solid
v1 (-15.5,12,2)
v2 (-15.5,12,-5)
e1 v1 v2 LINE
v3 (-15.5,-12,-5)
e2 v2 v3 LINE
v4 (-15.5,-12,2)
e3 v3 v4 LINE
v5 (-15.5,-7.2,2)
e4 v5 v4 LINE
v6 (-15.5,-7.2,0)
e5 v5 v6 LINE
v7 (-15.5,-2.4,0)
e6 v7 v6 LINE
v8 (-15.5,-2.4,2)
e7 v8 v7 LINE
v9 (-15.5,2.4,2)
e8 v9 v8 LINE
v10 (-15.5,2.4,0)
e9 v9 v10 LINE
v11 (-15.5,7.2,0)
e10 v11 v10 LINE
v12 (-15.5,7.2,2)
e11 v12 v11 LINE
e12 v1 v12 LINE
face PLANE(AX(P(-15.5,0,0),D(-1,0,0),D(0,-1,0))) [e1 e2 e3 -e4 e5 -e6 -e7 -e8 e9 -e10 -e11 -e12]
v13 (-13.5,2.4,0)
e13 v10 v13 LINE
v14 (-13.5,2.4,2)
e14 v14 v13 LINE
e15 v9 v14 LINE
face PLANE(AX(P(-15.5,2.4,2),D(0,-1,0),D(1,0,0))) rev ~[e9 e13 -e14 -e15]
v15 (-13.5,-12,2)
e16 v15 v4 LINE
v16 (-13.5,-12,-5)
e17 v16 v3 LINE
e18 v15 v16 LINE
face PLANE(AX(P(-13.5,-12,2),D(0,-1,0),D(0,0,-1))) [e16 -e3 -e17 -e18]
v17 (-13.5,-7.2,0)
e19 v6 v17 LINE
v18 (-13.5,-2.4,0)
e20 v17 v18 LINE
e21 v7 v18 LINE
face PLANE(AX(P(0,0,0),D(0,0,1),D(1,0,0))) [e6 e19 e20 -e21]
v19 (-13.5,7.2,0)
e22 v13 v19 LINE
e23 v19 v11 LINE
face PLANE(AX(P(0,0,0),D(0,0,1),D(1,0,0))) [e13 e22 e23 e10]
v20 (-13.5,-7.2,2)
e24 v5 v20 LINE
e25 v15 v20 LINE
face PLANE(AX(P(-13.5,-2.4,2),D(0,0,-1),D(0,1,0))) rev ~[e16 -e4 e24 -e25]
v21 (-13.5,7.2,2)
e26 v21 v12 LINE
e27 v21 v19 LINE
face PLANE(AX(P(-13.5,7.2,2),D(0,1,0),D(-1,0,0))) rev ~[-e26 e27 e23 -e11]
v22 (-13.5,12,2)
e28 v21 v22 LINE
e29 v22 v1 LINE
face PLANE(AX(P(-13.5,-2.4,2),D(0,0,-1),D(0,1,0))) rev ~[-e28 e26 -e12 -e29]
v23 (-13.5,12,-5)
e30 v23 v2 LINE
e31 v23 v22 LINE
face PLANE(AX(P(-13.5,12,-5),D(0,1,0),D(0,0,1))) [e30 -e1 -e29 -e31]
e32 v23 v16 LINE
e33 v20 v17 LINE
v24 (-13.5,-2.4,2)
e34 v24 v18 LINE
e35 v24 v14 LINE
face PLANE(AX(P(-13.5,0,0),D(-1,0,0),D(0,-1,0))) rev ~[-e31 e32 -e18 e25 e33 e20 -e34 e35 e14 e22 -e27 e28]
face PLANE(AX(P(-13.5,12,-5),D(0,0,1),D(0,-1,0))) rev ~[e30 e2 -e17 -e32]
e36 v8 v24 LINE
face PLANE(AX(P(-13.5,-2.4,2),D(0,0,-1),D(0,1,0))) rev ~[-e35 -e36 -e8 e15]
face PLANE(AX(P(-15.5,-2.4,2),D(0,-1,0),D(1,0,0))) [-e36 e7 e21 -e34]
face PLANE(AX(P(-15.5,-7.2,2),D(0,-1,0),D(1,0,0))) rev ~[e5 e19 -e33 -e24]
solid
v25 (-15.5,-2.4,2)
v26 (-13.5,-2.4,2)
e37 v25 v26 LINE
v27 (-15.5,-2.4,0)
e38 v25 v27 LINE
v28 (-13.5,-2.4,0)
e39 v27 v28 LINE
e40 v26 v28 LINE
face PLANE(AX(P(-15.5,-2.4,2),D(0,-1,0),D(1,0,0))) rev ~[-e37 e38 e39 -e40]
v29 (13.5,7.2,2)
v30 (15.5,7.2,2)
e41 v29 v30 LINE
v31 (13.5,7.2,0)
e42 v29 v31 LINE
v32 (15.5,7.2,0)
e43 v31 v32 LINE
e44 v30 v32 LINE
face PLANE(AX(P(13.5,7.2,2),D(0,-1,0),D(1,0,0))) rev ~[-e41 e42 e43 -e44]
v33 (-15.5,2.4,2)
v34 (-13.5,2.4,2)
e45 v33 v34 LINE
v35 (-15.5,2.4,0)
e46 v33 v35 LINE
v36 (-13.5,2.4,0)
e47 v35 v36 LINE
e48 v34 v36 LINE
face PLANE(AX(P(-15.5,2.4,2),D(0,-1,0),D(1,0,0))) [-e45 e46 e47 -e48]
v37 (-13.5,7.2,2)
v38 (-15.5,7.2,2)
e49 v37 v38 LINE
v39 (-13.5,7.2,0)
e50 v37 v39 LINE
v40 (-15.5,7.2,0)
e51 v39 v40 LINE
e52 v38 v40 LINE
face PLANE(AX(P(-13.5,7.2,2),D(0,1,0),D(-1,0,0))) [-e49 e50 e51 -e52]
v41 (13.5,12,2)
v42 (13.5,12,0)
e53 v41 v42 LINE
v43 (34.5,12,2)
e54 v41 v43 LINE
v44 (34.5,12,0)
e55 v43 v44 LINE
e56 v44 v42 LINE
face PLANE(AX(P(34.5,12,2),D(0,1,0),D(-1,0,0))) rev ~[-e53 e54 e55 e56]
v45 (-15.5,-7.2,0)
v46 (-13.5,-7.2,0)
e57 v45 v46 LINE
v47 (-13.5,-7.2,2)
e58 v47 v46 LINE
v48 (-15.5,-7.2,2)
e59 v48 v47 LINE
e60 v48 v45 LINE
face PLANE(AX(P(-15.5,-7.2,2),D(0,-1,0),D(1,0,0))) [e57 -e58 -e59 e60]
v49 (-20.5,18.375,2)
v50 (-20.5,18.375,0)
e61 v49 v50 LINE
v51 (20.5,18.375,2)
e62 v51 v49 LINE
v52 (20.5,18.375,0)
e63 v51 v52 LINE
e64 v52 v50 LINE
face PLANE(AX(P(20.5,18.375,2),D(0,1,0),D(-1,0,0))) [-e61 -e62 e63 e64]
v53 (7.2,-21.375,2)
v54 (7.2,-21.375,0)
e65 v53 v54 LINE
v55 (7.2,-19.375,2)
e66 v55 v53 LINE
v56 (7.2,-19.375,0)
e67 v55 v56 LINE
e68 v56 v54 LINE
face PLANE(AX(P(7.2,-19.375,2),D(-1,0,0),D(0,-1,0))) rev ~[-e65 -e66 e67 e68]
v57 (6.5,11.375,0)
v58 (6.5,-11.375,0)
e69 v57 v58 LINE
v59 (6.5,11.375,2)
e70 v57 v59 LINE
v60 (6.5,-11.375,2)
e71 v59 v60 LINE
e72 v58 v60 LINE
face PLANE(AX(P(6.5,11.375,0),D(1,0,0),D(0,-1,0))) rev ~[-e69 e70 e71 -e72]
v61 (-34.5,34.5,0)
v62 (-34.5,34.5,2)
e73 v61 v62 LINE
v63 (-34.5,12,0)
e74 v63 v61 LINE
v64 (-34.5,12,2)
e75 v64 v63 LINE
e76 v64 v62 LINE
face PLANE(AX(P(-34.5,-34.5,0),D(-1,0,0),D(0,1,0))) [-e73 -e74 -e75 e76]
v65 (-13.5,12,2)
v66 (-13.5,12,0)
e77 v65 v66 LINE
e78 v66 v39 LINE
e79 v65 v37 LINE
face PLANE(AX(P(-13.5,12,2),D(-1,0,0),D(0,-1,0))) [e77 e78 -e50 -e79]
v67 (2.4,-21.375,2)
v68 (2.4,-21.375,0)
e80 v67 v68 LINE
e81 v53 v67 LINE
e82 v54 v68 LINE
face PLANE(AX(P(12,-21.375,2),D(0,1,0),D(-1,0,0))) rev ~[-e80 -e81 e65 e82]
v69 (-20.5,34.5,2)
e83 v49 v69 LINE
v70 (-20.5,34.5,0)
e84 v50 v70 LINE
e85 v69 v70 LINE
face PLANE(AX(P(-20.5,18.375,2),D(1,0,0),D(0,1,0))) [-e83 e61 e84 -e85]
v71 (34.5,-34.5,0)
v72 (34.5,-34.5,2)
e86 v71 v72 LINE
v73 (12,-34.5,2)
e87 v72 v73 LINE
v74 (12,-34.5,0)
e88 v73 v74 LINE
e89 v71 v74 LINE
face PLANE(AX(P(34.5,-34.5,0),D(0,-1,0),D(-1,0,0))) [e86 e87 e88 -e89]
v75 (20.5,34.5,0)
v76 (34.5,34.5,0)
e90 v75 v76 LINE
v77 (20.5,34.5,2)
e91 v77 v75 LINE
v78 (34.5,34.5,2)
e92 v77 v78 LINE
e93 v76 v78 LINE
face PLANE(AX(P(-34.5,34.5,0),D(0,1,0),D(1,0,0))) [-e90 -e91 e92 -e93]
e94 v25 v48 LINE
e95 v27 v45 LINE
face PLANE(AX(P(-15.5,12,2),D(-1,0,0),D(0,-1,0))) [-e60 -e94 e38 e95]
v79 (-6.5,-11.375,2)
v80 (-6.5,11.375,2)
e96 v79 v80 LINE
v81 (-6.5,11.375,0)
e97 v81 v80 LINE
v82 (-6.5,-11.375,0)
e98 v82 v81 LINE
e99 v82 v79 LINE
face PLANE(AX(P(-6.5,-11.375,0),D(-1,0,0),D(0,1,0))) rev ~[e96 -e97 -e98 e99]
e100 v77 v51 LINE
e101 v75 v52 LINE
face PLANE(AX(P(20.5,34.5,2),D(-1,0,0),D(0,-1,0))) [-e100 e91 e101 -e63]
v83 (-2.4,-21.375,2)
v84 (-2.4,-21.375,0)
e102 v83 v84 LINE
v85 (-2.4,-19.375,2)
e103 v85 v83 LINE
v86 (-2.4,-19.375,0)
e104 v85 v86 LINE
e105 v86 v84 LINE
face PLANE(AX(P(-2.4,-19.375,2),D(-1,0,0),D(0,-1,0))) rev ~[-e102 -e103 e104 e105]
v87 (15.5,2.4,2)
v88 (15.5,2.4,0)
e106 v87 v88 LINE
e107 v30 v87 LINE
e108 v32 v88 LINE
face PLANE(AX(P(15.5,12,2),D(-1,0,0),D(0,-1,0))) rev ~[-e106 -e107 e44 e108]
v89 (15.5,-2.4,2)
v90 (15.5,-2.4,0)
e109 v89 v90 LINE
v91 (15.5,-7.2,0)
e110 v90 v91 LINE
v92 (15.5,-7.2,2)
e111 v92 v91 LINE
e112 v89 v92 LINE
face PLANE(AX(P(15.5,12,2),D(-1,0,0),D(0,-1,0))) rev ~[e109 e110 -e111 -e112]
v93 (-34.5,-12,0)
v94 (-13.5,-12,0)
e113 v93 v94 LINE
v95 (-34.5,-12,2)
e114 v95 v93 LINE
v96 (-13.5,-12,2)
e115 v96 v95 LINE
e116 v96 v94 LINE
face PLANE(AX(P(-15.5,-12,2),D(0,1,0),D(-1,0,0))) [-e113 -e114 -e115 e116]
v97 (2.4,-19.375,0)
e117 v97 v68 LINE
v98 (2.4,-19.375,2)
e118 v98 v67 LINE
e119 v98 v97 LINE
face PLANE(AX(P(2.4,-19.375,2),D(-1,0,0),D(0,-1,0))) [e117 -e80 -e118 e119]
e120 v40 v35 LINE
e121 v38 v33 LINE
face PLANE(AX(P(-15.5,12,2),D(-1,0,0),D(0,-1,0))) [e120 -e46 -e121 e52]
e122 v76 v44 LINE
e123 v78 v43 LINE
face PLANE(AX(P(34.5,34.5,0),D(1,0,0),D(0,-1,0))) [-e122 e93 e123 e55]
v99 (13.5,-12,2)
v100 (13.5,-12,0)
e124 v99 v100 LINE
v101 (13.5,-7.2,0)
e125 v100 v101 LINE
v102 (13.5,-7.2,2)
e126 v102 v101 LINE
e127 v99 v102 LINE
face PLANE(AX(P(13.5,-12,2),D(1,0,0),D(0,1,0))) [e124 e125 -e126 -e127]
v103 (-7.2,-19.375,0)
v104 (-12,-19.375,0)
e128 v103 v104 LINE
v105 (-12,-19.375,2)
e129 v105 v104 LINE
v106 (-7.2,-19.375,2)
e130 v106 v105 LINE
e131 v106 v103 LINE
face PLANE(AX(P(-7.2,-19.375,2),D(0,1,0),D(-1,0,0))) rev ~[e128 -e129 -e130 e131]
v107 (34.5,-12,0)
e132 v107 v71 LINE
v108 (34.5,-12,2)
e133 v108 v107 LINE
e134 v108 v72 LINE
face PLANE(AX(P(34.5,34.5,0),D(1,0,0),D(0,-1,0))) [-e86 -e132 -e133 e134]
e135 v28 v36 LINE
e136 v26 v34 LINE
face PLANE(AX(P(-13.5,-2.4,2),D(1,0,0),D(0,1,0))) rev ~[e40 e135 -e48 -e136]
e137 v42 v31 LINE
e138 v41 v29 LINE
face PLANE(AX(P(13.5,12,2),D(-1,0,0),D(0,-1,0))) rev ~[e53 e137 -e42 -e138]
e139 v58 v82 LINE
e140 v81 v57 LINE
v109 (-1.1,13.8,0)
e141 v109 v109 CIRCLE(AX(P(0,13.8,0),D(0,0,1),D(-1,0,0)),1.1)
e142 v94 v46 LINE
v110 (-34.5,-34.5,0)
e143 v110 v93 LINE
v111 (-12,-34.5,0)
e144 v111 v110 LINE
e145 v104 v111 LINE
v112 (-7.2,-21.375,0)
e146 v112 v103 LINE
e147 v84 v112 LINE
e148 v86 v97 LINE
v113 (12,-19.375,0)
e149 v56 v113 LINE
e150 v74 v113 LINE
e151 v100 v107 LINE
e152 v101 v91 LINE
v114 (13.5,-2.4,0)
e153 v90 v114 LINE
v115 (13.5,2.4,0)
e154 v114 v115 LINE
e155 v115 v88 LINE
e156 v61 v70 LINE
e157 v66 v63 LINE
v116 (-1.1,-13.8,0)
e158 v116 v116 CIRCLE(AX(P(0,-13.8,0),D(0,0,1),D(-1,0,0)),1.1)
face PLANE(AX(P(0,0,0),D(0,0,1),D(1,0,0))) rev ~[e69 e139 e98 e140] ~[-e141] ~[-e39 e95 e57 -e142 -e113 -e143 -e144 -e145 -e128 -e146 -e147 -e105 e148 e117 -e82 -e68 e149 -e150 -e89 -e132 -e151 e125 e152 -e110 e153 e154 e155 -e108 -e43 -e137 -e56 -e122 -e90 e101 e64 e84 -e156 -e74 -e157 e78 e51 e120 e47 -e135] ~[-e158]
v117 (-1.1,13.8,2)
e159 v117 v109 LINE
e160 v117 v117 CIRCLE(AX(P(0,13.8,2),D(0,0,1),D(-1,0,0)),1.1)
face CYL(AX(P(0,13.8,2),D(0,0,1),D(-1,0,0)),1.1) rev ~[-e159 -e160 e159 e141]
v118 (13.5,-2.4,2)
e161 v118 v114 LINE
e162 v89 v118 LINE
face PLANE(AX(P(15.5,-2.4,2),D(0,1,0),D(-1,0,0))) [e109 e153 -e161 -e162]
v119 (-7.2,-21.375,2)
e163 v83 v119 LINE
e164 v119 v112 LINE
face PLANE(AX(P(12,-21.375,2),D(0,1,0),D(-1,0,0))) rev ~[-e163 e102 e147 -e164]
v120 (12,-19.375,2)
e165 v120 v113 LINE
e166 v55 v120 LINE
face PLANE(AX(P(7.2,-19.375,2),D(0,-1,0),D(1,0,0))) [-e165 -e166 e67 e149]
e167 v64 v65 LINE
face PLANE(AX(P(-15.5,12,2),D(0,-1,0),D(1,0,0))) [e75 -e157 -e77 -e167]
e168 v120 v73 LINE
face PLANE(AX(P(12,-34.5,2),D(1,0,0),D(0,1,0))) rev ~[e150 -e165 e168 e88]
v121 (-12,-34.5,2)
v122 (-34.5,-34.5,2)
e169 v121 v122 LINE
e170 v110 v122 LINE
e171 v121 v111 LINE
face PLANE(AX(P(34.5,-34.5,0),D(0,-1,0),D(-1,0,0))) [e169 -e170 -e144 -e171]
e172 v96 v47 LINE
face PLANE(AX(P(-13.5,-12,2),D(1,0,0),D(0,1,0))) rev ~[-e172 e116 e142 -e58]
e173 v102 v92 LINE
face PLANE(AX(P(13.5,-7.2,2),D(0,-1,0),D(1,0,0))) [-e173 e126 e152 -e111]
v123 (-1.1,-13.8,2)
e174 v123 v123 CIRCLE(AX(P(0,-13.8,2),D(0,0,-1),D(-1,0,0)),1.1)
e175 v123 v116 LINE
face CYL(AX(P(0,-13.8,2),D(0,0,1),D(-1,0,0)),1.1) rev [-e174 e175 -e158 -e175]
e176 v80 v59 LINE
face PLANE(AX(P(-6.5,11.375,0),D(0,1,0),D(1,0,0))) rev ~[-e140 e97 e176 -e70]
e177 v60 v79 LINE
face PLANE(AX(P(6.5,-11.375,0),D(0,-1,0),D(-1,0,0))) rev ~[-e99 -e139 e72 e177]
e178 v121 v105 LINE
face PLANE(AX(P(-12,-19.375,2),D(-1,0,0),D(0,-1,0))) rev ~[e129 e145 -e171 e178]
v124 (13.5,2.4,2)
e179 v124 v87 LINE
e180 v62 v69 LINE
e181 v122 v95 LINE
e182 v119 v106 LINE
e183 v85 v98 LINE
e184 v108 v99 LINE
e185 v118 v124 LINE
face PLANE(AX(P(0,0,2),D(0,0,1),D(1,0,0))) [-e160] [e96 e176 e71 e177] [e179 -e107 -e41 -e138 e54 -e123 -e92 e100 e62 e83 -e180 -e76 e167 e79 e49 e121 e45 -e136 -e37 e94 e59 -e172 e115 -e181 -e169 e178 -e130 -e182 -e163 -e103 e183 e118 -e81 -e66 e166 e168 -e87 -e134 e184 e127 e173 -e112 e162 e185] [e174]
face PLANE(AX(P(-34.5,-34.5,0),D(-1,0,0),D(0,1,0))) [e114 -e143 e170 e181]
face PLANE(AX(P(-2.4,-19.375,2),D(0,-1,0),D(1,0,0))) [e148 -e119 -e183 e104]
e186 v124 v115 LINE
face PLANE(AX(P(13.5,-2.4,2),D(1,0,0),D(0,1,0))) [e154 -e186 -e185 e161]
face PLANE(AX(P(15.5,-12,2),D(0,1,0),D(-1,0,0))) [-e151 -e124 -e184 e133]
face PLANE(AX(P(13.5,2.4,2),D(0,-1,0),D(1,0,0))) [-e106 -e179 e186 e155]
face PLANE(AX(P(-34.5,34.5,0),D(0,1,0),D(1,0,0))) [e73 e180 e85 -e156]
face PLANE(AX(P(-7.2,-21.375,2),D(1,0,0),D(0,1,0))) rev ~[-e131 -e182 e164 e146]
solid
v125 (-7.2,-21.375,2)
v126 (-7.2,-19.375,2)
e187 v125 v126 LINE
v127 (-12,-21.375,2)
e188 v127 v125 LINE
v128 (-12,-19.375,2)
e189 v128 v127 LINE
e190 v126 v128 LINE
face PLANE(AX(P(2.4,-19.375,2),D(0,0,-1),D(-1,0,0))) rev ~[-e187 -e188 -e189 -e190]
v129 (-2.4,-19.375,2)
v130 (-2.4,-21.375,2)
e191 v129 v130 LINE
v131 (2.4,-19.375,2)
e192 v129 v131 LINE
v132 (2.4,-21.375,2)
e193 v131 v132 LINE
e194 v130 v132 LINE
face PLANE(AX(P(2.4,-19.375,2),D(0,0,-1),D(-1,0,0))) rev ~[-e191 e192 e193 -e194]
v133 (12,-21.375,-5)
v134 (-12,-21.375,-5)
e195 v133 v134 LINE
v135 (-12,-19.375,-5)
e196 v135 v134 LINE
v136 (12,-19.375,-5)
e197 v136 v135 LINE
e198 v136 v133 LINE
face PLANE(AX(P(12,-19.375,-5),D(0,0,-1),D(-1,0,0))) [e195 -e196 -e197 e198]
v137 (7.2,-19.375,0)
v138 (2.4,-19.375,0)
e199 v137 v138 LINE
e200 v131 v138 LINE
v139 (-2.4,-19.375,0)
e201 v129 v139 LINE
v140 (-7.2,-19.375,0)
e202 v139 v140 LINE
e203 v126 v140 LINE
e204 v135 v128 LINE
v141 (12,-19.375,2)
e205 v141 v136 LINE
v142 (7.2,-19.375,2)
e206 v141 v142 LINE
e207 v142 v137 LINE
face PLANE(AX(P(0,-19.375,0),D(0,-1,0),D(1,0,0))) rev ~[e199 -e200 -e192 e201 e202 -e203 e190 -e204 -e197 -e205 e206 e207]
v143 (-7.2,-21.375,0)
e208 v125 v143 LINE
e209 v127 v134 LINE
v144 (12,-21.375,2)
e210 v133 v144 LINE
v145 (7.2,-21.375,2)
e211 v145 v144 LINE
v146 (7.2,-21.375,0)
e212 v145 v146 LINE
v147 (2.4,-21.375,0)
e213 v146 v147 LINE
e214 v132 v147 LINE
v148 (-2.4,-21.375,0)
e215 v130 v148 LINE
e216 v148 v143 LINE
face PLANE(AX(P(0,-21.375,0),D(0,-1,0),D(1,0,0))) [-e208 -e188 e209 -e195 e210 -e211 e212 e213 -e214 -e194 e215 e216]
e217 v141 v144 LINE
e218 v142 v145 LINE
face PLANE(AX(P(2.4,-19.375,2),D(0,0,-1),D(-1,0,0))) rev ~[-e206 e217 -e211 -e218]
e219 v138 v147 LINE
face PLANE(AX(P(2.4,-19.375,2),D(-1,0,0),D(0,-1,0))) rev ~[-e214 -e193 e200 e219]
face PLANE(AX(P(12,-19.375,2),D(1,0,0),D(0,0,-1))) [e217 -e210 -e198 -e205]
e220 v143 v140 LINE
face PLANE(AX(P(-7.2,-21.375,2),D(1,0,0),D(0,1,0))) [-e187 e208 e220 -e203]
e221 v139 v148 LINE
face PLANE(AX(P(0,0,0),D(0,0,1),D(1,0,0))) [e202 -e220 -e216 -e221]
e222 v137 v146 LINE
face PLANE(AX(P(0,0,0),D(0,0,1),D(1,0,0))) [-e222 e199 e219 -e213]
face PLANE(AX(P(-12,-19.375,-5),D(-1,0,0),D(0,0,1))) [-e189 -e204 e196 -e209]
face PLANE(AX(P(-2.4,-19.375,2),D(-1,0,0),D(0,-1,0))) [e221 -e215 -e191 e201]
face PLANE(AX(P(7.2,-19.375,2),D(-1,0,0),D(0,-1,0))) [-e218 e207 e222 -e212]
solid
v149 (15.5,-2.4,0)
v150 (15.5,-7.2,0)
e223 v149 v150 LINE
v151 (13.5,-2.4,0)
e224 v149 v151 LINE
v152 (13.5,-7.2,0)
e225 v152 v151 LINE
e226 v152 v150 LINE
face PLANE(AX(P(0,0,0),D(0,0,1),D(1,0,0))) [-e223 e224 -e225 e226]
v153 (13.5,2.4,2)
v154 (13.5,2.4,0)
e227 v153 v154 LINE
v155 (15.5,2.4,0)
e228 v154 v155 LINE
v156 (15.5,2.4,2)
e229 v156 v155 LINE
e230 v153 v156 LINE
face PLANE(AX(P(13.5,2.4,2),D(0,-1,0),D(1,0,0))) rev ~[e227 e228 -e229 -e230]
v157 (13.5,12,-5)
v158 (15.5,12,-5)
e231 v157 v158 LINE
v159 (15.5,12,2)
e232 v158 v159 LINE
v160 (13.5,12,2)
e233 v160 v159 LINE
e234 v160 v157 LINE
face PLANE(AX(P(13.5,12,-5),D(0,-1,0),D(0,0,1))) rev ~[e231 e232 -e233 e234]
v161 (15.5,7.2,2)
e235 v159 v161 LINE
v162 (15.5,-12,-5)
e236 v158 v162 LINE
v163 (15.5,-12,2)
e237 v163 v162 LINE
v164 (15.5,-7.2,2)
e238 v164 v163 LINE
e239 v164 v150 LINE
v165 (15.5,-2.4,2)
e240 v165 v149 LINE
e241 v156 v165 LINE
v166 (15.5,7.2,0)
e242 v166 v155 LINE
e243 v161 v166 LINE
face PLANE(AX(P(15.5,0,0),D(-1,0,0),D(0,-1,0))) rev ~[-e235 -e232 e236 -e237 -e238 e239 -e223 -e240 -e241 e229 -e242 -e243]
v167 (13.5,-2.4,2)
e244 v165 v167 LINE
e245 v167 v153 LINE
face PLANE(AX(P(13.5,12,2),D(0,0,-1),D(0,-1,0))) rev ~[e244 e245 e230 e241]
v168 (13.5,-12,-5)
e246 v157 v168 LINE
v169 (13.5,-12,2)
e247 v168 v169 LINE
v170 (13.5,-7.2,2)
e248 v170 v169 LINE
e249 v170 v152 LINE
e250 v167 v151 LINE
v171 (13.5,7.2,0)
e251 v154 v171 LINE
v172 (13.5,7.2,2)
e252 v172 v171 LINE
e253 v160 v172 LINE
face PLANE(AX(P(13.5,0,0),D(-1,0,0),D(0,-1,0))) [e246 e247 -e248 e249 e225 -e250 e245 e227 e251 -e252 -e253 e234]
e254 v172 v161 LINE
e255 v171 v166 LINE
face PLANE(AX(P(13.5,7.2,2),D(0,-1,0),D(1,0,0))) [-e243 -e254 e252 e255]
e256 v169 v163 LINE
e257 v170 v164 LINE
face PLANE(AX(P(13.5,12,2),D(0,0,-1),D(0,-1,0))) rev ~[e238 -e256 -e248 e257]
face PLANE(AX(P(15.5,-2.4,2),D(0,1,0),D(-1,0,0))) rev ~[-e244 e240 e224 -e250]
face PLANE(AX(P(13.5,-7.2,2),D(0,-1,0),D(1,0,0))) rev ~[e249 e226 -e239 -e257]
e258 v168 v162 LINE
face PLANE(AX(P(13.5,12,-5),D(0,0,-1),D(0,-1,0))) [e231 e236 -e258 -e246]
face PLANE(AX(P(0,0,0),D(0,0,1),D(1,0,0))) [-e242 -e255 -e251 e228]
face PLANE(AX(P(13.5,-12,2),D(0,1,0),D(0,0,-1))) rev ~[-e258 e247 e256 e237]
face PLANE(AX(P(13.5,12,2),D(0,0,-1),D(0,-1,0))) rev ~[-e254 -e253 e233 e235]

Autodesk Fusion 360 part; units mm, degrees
sketch "Sketch1" plane through (0, 0, 0) normal (0, 0, 1) x (1, 0, 0) in component "main"
  line L0 (-34.5, 34.5) -> (34.5, 34.5)
  line L1 (34.5, 34.5) -> (34.5, -34.5)
  line L2 (34.5, -34.5) -> (-34.5, -34.5)
  line L3 (-34.5, -34.5) -> (-34.5, 34.5)
  line L4 (-34.5, 34.5) -> (34.5, -34.5) construction
  line L5 (34.5, 34.5) -> (-34.5, -34.5) construction
  line L6 (-6.5, 11.375) -> (6.5, 11.375)
  line L7 (6.5, 11.375) -> (6.5, -11.375)
  line L8 (6.5, -11.375) -> (-6.5, -11.375)
  line L9 (-6.5, -11.375) -> (-6.5, 11.375)
  line L10 (-6.5, 11.375) -> (6.5, -11.375) construction
  line L11 (6.5, 11.375) -> (-6.5, -11.375) construction
  dimension "d8" = 69
  dimension "d9" = 13
  dimension "d10" = 22.75
extrude "Extrude1" add sketch "Sketch1" along normal blind 2 makes body 1 in component "main"
sketch "Sketch2" plane through (0, 0, 2) normal (0, 0, 1) x (-1, 0, 0) in component "main"
  line L0 (-6.5, 11.375) -> (6.5, 11.375)
  line L1 (6.5, 11.375) -> (6.5, -11.375)
  line L2 (6.5, -11.375) -> (-6.5, -11.375)
  line L3 (-6.5, -11.375) -> (-6.5, 11.375)
  line L4 (34.5, 34.5) -> (-34.5, 34.5)
  line L5 (-34.5, 34.5) -> (-34.5, -34.5)
  line L6 (-34.5, -34.5) -> (34.5, -34.5)
  line L7 (34.5, -34.5) -> (34.5, 34.5)
  line L8 (-34.5, -12) -> (-15.5, -12)
  line L9 (-15.5, -12) -> (-15.5, 12)
  line L10 (-15.5, 12) -> (-34.5, 12)
  line L11 (-34.5, 12) -> (-34.5, -12)
  line L12 (34.5, -12) -> (15.5, -12)
  line L13 (15.5, -12) -> (15.5, 12)
  line L14 (15.5, 12) -> (34.5, 12)
  line L15 (34.5, 12) -> (34.5, -12)
  line L16 (12, 34.5) -> (-12, 34.5)
  line L17 (-12, 34.5) -> (-12, 21.375)
  line L18 (-12, 21.375) -> (12, 21.375)
  line L19 (12, 21.375) -> (12, 34.5)
  line L20 (20.5, -34.5) -> (-20.5, -34.5)
  line L21 (-20.5, -34.5) -> (-20.5, -18.375)
  line L22 (-20.5, -18.375) -> (20.5, -18.375)
  line L23 (20.5, -18.375) -> (20.5, -34.5)
  dimension "d13" = 24
  dimension "d17" = 10
  dimension "d18" = 9
  dimension "d19" = 14
  dimension "d20" = 7
extrude "Extrude2" cut sketch "Sketch2" against normal blind 5 contours L4 L16 L17 L18 L19 | L7 L12 L13 L14 L15 | L5 L8 L9 L10 L11 | L6 L20 L21 L22 L23 bodies 1 in component "main"
sketch "Sketch3" plane through (0, 0, 2) normal (0, 0, 1) x (-1, 0, 0) in component "main"
  line L0 (15.5, 12) -> (34.5, 12)
  line L1 (34.5, 12) -> (34.5, 34.5)
  line L2 (34.5, 34.5) -> (12, 34.5)
  line L3 (12, 34.5) -> (12, 21.375)
  line L4 (12, 21.375) -> (-12, 21.375)
  line L5 (-12, 21.375) -> (-12, 34.5)
  line L6 (-12, 34.5) -> (-34.5, 34.5)
  line L7 (-34.5, 34.5) -> (-34.5, 12)
  line L8 (-34.5, 12) -> (-15.5, 12)
  line L9 (-15.5, 12) -> (-15.5, -12)
  line L10 (-15.5, -12) -> (-34.5, -12)
  line L11 (-34.5, -12) -> (-34.5, -34.5)
  line L12 (-34.5, -34.5) -> (-20.5, -34.5)
  line L13 (-20.5, -34.5) -> (-20.5, -18.375)
  line L14 (-20.5, -18.375) -> (20.5, -18.375)
  line L15 (20.5, -18.375) -> (20.5, -34.5)
  line L16 (20.5, -34.5) -> (34.5, -34.5)
  line L17 (34.5, -34.5) -> (34.5, -12)
  line L18 (34.5, -12) -> (15.5, -12)
  line L19 (15.5, -12) -> (15.5, 12)
  line L20 (-6.5, 11.375) -> (6.5, 11.375)
  line L21 (6.5, 11.375) -> (6.5, -11.375)
  line L22 (6.5, -11.375) -> (-6.5, -11.375)
  line L23 (-6.5, -11.375) -> (-6.5, 11.375)
  line L24 (15.5, -12) -> (13.5, -12)
  line L25 (13.5, -12) -> (13.5, -7.2)
  line L26 (13.5, -7.2) -> (15.5, -7.2)
  line L27 (15.5, -7.2) -> (15.5, -12)
  line L28 (13.5, -7.2) -> (15.5, -7.2)
  line L29 (15.5, -7.2) -> (15.5, -2.4)
  line L30 (15.5, -2.4) -> (13.5, -2.4)
  line L31 (13.5, -2.4) -> (13.5, -7.2)
  line L32 (13.5, -2.4) -> (15.5, -2.4)
  line L33 (15.5, -2.4) -> (15.5, 2.4)
  line L34 (15.5, 2.4) -> (13.5, 2.4)
  line L35 (13.5, 2.4) -> (13.5, -2.4)
  line L36 (13.5, 2.4) -> (15.5, 2.4)
  line L37 (15.5, 2.4) -> (15.5, 7.2)
  line L38 (15.5, 7.2) -> (13.5, 7.2)
  line L39 (13.5, 7.2) -> (13.5, 2.4)
  line L40 (13.5, 7.2) -> (15.5, 7.2)
  line L41 (15.5, 7.2) -> (15.5, 12)
  line L42 (15.5, 12) -> (13.5, 12)
  line L43 (13.5, 12) -> (13.5, 7.2)
  line L44 (12, 21.375) -> (7.2, 21.375)
  line L45 (7.2, 21.375) -> (7.2, 19.375)
  line L46 (7.2, 19.375) -> (12, 19.375)
  line L47 (12, 19.375) -> (12, 21.375)
  line L48 (7.2, 19.375) -> (2.4, 19.375)
  line L49 (2.4, 19.375) -> (2.4, 21.375)
  line L50 (2.4, 21.375) -> (7.2, 21.375)
  line L51 (7.2, 21.375) -> (7.2, 19.375)
  line L52 (2.4, 19.375) -> (-2.4, 19.375)
  line L53 (-2.4, 19.375) -> (-2.4, 21.375)
  line L54 (-2.4, 21.375) -> (2.4, 21.375)
  line L55 (2.4, 21.375) -> (2.4, 19.375)
  line L56 (-2.4, 19.375) -> (-7.2, 19.375)
  line L57 (-7.2, 19.375) -> (-7.2, 21.375)
  line L58 (-7.2, 21.375) -> (-2.4, 21.375)
  line L59 (-2.4, 21.375) -> (-2.4, 19.375)
  line L60 (-7.2, 19.375) -> (-12, 19.375)
  line L61 (-12, 19.375) -> (-12, 21.375)
  line L62 (-12, 21.375) -> (-7.2, 21.375)
  line L63 (-7.2, 21.375) -> (-7.2, 19.375)
  line L64 (0, -1.75) -> (0, -22.5)
  line L65 (-13.5, -7.2) -> (-15.5, -7.2)
  line L66 (-13.5, -12) -> (-13.5, -7.2)
  line L67 (-13.5, 7.2) -> (-15.5, 7.2)
  line L68 (-15.5, -2.4) -> (-15.5, 2.4)
  line L69 (-13.5, -2.4) -> (-15.5, -2.4)
  line L70 (-15.5, 7.2) -> (-15.5, 12)
  line L71 (-15.5, -2.4) -> (-13.5, -2.4)
  line L72 (-15.5, -12) -> (-13.5, -12)
  line L73 (-15.5, -7.2) -> (-15.5, -12)
  line L74 (-15.5, 2.4) -> (-13.5, 2.4)
  line L75 (-15.5, 12) -> (-34.5, 12)
  line L76 (-15.5, 7.2) -> (-13.5, 7.2)
  line L77 (-13.5, 2.4) -> (-13.5, -2.4)
  line L78 (-15.5, -7.2) -> (-15.5, -2.4)
  line L79 (-13.5, -2.4) -> (-13.5, -7.2)
  line L80 (-15.5, 12) -> (-13.5, 12)
  line L81 (-13.5, 7.2) -> (-13.5, 2.4)
  line L82 (-15.5, -12) -> (-15.5, 12)
  line L83 (-13.5, -7.2) -> (-15.5, -7.2)
  line L84 (-13.5, 2.4) -> (-15.5, 2.4)
  line L85 (-34.5, -12) -> (-15.5, -12)
  line L86 (-15.5, 2.4) -> (-15.5, 7.2)
  line L87 (-13.5, 12) -> (-13.5, 7.2)
  dimension "d23" = 4.8
  dimension "d24" = 4.8
  dimension "d25" = 4.8
  dimension "d26" = 4.8
  dimension "d27" = 2
  dimension "d28" = 2
  dimension "d29" = 4.8
  dimension "d30" = 4.8
  dimension "d31" = 4.8
  dimension "d32" = 4.8
  dimension "d33" = 4.8
extrude "Extrude3" cut sketch "Sketch3" against normal blind 4 contours L19 L38 L40 L41 L42 L43 | L19 L30 L32 L33 L34 L35 L36 | L4 L44 L45 L46 L47 L51 | L19 L24 L25 L26 L27 L28 | L4 L49 L52 L53 L54 L55 L59 | L4 L57 L60 L61 L62 L63 | L9 L67 L70 L76 L80 L82 L87 | L9 L68 L69 L71 L74 L77 L82 L84 | L9 L65 L66 L72 L73 L82 L83 bodies 1 in component "main"
sketch "Sketch1 (2)" plane through (-13.5, 0, 0) normal (-1, 0, 0) x (0, -1, 0) in component "left slot"
  line L0 (-2.4, 0) -> (2.4, 0)
  line L1 (2.4, 0) -> (2.4, 2)
  line L2 (2.4, 2) -> (-2.4, 2)
  line L3 (-2.4, 2) -> (-2.4, 0)
  line L4 (-12, 2) -> (12, 2)
  line L5 (12, 2) -> (12, -5)
  line L6 (-12, -5) -> (-12, 2)
  line L7 (-12, -5) -> (12, -5)
  point P0 (-12, 2)
  point P1 (12, 2)
  dimension "d36" = 7
extrude "Extrude1'" add sketch "Sketch1 (2)" along normal blind 2 separate body makes body 2 in component "left slot"
extrude "Extrude1''" add 1 faces at (-15.5, 4, -0.3333) along direction (1, 0, 0) blind 2 from surface at 29 separate body on bodies 2 makes body 3 in component "right slot"
sketch "Sketch1 (3)" plane through (0, -19.375, 0) normal (0, -1, 0) x (1, 0, 0) in component "front slot"
  line L0 (-2.4, 0) -> (2.4, 0)
  line L1 (2.4, 0) -> (2.4, 2)
  line L2 (2.4, 2) -> (-2.4, 2)
  line L3 (-2.4, 2) -> (-2.4, 0)
  line L4 (-12, 2) -> (12, 2)
  line L5 (12, 2) -> (12, -5)
  line L6 (12, -5) -> (-12, -5)
  line L7 (-12, -5) -> (-12, 2)
  point P0 (12, 2)
  dimension "d47" = 7
extrude "Extrude1'''" add sketch "Sketch1 (3)" along normal blind 2 separate body makes body 4 in component "front slot"
combine "Combine1" operation cut target body 2 tool bodies 1 keep tools in component "left slot"
combine "Combine1'" operation cut target body 4 tool bodies 1 keep tools in component "front slot"
combine "Combine1''" operation cut target body 3 tool bodies 1 keep tools in component "right slot"
sketch "Sketch4" plane through (0, 0, 2) normal (0, 0, 1) x (-1, 0, 0) in component "main"
  line L0 (-13.5, 7.2) -> (-15.5, 7.2)
  line L1 (-15.5, 7.2) -> (-15.5, 2.4)
  line L2 (-15.5, 2.4) -> (-13.5, 2.4)
  line L3 (-13.5, 2.4) -> (-13.5, -2.4)
  line L4 (-13.5, -2.4) -> (-15.5, -2.4)
  line L5 (-15.5, -2.4) -> (-15.5, -7.2)
  line L6 (-15.5, -7.2) -> (-13.5, -7.2)
  line L7 (-13.5, -7.2) -> (-13.5, -12)
  line L8 (-13.5, -12) -> (-34.5, -12)
  line L9 (-34.5, -12) -> (-34.5, -34.5)
  line L10 (-34.5, -34.5) -> (-20.5, -34.5)
  line L11 (-20.5, -34.5) -> (-20.5, -18.375)
  line L12 (-20.5, -18.375) -> (20.5, -18.375)
  line L13 (20.5, -18.375) -> (20.5, -34.5)
  line L14 (20.5, -34.5) -> (34.5, -34.5)
  line L15 (34.5, -34.5) -> (34.5, -12)
  line L16 (34.5, -12) -> (13.5, -12)
  line L17 (13.5, -12) -> (13.5, -7.2)
  line L18 (13.5, -7.2) -> (15.5, -7.2)
  line L19 (15.5, -7.2) -> (15.5, -2.4)
  line L20 (15.5, -2.4) -> (13.5, -2.4)
  line L21 (13.5, -2.4) -> (13.5, 2.4)
  line L22 (13.5, 2.4) -> (15.5, 2.4)
  line L23 (15.5, 2.4) -> (15.5, 7.2)
  line L24 (15.5, 7.2) -> (13.5, 7.2)
  line L25 (13.5, 7.2) -> (13.5, 12)
  line L26 (13.5, 12) -> (34.5, 12)
  line L27 (34.5, 12) -> (34.5, 34.5)
  line L28 (34.5, 34.5) -> (12, 34.5)
  line L29 (12, 34.5) -> (12, 19.375)
  line L30 (12, 19.375) -> (7.2, 19.375)
  line L31 (7.2, 19.375) -> (7.2, 21.375)
  line L32 (7.2, 21.375) -> (2.4, 21.375)
  line L33 (2.4, 21.375) -> (2.4, 19.375)
  line L34 (2.4, 19.375) -> (-2.4, 19.375)
  line L35 (-2.4, 19.375) -> (-2.4, 21.375)
  line L36 (-2.4, 21.375) -> (-7.2, 21.375)
  line L37 (-7.2, 21.375) -> (-7.2, 19.375)
  line L38 (-7.2, 19.375) -> (-12, 19.375)
  line L39 (-12, 19.375) -> (-12, 34.5)
  line L40 (-12, 34.5) -> (-34.5, 34.5)
  line L41 (-34.5, 34.5) -> (-34.5, 12)
  line L42 (-34.5, 12) -> (-13.5, 12)
  line L43 (-13.5, 12) -> (-13.5, 7.2)
  line L44 (-6.5, 11.375) -> (6.5, 11.375)
  line L45 (6.5, 11.375) -> (6.5, -11.375)
  line L46 (6.5, -11.375) -> (-6.5, -11.375)
  line L47 (-6.5, -11.375) -> (-6.5, 11.375)
  circle A0 centre (0, -13.8) radius 1.1
  line L48 (0, -18.375) -> (0, -11.375) construction
  dimension "d50" = 2.2
  dimension "d51" = 2.425
extrude "Extrude4" cut sketch "Sketch4" against normal blind 6 contours A0 bodies 1 in component "main"
mirror "Mirror1" about plane through (0, 0, 0) normal (0, 1, 0) of "Extrude4" in component "main"
component "main" placed x (1, 0, 0) y (0, 1, 0) z (0, 0, 1) at (0, 0, 0)
component "left slot" placed x (1, 0, 0) y (0, 1, 0) z (0, 0, 1) at (0, 0, 0)
component "right slot" placed x (1, 0, 0) y (0, 1, 0) z (0, 0, 1) at (0, 0, 0)
component "front slot" placed x (1, 0, 0) y (0, 1, 0) z (0, 0, 1) at (0, 0, 0)
equation "Sides = 69 mm"
equation "servolength = 22.75 mm"
equation "servowidth = 13 mm"
equation "thick = 2 mm"
equation "spoutwidth = 30 mm"
equation "servotab = 5 mm"
equation "d8 = Sides"
equation "d9 = servowidth"
equation "d10 = servolength"
equation "d11 = thick"
equation "d13 = slotlength"
equation "spouthole = 15 mm"
equation "offset = 9 mm"
equation "d18 = offset"
equation "d19 = offset + 5 mm"
equation "d20 = servotab + thick"
equation "d23 = slotlength / 5"
equation "d24 = slotlength / 5"
equation "d25 = slotlength / 5"
equation "d26 = slotlength / 5"
equation "d27 = thick"
equation "d28 = thick"
equation "d29 = slotlength / 5"
equation "d30 = slotlength / 5"
equation "d31 = slotlength / 5"
equation "d32 = slotlength / 5"
equation "d33 = slotlength / 5"
equation "d36 = 5 mm + thick"
equation "slotlength = 24 mm"
equation "d39 = thick"
equation "d47 = 5 mm + thick"
equation "d48 = thick"
equation "d51 = 1.325 mm + 1.1 mm"
